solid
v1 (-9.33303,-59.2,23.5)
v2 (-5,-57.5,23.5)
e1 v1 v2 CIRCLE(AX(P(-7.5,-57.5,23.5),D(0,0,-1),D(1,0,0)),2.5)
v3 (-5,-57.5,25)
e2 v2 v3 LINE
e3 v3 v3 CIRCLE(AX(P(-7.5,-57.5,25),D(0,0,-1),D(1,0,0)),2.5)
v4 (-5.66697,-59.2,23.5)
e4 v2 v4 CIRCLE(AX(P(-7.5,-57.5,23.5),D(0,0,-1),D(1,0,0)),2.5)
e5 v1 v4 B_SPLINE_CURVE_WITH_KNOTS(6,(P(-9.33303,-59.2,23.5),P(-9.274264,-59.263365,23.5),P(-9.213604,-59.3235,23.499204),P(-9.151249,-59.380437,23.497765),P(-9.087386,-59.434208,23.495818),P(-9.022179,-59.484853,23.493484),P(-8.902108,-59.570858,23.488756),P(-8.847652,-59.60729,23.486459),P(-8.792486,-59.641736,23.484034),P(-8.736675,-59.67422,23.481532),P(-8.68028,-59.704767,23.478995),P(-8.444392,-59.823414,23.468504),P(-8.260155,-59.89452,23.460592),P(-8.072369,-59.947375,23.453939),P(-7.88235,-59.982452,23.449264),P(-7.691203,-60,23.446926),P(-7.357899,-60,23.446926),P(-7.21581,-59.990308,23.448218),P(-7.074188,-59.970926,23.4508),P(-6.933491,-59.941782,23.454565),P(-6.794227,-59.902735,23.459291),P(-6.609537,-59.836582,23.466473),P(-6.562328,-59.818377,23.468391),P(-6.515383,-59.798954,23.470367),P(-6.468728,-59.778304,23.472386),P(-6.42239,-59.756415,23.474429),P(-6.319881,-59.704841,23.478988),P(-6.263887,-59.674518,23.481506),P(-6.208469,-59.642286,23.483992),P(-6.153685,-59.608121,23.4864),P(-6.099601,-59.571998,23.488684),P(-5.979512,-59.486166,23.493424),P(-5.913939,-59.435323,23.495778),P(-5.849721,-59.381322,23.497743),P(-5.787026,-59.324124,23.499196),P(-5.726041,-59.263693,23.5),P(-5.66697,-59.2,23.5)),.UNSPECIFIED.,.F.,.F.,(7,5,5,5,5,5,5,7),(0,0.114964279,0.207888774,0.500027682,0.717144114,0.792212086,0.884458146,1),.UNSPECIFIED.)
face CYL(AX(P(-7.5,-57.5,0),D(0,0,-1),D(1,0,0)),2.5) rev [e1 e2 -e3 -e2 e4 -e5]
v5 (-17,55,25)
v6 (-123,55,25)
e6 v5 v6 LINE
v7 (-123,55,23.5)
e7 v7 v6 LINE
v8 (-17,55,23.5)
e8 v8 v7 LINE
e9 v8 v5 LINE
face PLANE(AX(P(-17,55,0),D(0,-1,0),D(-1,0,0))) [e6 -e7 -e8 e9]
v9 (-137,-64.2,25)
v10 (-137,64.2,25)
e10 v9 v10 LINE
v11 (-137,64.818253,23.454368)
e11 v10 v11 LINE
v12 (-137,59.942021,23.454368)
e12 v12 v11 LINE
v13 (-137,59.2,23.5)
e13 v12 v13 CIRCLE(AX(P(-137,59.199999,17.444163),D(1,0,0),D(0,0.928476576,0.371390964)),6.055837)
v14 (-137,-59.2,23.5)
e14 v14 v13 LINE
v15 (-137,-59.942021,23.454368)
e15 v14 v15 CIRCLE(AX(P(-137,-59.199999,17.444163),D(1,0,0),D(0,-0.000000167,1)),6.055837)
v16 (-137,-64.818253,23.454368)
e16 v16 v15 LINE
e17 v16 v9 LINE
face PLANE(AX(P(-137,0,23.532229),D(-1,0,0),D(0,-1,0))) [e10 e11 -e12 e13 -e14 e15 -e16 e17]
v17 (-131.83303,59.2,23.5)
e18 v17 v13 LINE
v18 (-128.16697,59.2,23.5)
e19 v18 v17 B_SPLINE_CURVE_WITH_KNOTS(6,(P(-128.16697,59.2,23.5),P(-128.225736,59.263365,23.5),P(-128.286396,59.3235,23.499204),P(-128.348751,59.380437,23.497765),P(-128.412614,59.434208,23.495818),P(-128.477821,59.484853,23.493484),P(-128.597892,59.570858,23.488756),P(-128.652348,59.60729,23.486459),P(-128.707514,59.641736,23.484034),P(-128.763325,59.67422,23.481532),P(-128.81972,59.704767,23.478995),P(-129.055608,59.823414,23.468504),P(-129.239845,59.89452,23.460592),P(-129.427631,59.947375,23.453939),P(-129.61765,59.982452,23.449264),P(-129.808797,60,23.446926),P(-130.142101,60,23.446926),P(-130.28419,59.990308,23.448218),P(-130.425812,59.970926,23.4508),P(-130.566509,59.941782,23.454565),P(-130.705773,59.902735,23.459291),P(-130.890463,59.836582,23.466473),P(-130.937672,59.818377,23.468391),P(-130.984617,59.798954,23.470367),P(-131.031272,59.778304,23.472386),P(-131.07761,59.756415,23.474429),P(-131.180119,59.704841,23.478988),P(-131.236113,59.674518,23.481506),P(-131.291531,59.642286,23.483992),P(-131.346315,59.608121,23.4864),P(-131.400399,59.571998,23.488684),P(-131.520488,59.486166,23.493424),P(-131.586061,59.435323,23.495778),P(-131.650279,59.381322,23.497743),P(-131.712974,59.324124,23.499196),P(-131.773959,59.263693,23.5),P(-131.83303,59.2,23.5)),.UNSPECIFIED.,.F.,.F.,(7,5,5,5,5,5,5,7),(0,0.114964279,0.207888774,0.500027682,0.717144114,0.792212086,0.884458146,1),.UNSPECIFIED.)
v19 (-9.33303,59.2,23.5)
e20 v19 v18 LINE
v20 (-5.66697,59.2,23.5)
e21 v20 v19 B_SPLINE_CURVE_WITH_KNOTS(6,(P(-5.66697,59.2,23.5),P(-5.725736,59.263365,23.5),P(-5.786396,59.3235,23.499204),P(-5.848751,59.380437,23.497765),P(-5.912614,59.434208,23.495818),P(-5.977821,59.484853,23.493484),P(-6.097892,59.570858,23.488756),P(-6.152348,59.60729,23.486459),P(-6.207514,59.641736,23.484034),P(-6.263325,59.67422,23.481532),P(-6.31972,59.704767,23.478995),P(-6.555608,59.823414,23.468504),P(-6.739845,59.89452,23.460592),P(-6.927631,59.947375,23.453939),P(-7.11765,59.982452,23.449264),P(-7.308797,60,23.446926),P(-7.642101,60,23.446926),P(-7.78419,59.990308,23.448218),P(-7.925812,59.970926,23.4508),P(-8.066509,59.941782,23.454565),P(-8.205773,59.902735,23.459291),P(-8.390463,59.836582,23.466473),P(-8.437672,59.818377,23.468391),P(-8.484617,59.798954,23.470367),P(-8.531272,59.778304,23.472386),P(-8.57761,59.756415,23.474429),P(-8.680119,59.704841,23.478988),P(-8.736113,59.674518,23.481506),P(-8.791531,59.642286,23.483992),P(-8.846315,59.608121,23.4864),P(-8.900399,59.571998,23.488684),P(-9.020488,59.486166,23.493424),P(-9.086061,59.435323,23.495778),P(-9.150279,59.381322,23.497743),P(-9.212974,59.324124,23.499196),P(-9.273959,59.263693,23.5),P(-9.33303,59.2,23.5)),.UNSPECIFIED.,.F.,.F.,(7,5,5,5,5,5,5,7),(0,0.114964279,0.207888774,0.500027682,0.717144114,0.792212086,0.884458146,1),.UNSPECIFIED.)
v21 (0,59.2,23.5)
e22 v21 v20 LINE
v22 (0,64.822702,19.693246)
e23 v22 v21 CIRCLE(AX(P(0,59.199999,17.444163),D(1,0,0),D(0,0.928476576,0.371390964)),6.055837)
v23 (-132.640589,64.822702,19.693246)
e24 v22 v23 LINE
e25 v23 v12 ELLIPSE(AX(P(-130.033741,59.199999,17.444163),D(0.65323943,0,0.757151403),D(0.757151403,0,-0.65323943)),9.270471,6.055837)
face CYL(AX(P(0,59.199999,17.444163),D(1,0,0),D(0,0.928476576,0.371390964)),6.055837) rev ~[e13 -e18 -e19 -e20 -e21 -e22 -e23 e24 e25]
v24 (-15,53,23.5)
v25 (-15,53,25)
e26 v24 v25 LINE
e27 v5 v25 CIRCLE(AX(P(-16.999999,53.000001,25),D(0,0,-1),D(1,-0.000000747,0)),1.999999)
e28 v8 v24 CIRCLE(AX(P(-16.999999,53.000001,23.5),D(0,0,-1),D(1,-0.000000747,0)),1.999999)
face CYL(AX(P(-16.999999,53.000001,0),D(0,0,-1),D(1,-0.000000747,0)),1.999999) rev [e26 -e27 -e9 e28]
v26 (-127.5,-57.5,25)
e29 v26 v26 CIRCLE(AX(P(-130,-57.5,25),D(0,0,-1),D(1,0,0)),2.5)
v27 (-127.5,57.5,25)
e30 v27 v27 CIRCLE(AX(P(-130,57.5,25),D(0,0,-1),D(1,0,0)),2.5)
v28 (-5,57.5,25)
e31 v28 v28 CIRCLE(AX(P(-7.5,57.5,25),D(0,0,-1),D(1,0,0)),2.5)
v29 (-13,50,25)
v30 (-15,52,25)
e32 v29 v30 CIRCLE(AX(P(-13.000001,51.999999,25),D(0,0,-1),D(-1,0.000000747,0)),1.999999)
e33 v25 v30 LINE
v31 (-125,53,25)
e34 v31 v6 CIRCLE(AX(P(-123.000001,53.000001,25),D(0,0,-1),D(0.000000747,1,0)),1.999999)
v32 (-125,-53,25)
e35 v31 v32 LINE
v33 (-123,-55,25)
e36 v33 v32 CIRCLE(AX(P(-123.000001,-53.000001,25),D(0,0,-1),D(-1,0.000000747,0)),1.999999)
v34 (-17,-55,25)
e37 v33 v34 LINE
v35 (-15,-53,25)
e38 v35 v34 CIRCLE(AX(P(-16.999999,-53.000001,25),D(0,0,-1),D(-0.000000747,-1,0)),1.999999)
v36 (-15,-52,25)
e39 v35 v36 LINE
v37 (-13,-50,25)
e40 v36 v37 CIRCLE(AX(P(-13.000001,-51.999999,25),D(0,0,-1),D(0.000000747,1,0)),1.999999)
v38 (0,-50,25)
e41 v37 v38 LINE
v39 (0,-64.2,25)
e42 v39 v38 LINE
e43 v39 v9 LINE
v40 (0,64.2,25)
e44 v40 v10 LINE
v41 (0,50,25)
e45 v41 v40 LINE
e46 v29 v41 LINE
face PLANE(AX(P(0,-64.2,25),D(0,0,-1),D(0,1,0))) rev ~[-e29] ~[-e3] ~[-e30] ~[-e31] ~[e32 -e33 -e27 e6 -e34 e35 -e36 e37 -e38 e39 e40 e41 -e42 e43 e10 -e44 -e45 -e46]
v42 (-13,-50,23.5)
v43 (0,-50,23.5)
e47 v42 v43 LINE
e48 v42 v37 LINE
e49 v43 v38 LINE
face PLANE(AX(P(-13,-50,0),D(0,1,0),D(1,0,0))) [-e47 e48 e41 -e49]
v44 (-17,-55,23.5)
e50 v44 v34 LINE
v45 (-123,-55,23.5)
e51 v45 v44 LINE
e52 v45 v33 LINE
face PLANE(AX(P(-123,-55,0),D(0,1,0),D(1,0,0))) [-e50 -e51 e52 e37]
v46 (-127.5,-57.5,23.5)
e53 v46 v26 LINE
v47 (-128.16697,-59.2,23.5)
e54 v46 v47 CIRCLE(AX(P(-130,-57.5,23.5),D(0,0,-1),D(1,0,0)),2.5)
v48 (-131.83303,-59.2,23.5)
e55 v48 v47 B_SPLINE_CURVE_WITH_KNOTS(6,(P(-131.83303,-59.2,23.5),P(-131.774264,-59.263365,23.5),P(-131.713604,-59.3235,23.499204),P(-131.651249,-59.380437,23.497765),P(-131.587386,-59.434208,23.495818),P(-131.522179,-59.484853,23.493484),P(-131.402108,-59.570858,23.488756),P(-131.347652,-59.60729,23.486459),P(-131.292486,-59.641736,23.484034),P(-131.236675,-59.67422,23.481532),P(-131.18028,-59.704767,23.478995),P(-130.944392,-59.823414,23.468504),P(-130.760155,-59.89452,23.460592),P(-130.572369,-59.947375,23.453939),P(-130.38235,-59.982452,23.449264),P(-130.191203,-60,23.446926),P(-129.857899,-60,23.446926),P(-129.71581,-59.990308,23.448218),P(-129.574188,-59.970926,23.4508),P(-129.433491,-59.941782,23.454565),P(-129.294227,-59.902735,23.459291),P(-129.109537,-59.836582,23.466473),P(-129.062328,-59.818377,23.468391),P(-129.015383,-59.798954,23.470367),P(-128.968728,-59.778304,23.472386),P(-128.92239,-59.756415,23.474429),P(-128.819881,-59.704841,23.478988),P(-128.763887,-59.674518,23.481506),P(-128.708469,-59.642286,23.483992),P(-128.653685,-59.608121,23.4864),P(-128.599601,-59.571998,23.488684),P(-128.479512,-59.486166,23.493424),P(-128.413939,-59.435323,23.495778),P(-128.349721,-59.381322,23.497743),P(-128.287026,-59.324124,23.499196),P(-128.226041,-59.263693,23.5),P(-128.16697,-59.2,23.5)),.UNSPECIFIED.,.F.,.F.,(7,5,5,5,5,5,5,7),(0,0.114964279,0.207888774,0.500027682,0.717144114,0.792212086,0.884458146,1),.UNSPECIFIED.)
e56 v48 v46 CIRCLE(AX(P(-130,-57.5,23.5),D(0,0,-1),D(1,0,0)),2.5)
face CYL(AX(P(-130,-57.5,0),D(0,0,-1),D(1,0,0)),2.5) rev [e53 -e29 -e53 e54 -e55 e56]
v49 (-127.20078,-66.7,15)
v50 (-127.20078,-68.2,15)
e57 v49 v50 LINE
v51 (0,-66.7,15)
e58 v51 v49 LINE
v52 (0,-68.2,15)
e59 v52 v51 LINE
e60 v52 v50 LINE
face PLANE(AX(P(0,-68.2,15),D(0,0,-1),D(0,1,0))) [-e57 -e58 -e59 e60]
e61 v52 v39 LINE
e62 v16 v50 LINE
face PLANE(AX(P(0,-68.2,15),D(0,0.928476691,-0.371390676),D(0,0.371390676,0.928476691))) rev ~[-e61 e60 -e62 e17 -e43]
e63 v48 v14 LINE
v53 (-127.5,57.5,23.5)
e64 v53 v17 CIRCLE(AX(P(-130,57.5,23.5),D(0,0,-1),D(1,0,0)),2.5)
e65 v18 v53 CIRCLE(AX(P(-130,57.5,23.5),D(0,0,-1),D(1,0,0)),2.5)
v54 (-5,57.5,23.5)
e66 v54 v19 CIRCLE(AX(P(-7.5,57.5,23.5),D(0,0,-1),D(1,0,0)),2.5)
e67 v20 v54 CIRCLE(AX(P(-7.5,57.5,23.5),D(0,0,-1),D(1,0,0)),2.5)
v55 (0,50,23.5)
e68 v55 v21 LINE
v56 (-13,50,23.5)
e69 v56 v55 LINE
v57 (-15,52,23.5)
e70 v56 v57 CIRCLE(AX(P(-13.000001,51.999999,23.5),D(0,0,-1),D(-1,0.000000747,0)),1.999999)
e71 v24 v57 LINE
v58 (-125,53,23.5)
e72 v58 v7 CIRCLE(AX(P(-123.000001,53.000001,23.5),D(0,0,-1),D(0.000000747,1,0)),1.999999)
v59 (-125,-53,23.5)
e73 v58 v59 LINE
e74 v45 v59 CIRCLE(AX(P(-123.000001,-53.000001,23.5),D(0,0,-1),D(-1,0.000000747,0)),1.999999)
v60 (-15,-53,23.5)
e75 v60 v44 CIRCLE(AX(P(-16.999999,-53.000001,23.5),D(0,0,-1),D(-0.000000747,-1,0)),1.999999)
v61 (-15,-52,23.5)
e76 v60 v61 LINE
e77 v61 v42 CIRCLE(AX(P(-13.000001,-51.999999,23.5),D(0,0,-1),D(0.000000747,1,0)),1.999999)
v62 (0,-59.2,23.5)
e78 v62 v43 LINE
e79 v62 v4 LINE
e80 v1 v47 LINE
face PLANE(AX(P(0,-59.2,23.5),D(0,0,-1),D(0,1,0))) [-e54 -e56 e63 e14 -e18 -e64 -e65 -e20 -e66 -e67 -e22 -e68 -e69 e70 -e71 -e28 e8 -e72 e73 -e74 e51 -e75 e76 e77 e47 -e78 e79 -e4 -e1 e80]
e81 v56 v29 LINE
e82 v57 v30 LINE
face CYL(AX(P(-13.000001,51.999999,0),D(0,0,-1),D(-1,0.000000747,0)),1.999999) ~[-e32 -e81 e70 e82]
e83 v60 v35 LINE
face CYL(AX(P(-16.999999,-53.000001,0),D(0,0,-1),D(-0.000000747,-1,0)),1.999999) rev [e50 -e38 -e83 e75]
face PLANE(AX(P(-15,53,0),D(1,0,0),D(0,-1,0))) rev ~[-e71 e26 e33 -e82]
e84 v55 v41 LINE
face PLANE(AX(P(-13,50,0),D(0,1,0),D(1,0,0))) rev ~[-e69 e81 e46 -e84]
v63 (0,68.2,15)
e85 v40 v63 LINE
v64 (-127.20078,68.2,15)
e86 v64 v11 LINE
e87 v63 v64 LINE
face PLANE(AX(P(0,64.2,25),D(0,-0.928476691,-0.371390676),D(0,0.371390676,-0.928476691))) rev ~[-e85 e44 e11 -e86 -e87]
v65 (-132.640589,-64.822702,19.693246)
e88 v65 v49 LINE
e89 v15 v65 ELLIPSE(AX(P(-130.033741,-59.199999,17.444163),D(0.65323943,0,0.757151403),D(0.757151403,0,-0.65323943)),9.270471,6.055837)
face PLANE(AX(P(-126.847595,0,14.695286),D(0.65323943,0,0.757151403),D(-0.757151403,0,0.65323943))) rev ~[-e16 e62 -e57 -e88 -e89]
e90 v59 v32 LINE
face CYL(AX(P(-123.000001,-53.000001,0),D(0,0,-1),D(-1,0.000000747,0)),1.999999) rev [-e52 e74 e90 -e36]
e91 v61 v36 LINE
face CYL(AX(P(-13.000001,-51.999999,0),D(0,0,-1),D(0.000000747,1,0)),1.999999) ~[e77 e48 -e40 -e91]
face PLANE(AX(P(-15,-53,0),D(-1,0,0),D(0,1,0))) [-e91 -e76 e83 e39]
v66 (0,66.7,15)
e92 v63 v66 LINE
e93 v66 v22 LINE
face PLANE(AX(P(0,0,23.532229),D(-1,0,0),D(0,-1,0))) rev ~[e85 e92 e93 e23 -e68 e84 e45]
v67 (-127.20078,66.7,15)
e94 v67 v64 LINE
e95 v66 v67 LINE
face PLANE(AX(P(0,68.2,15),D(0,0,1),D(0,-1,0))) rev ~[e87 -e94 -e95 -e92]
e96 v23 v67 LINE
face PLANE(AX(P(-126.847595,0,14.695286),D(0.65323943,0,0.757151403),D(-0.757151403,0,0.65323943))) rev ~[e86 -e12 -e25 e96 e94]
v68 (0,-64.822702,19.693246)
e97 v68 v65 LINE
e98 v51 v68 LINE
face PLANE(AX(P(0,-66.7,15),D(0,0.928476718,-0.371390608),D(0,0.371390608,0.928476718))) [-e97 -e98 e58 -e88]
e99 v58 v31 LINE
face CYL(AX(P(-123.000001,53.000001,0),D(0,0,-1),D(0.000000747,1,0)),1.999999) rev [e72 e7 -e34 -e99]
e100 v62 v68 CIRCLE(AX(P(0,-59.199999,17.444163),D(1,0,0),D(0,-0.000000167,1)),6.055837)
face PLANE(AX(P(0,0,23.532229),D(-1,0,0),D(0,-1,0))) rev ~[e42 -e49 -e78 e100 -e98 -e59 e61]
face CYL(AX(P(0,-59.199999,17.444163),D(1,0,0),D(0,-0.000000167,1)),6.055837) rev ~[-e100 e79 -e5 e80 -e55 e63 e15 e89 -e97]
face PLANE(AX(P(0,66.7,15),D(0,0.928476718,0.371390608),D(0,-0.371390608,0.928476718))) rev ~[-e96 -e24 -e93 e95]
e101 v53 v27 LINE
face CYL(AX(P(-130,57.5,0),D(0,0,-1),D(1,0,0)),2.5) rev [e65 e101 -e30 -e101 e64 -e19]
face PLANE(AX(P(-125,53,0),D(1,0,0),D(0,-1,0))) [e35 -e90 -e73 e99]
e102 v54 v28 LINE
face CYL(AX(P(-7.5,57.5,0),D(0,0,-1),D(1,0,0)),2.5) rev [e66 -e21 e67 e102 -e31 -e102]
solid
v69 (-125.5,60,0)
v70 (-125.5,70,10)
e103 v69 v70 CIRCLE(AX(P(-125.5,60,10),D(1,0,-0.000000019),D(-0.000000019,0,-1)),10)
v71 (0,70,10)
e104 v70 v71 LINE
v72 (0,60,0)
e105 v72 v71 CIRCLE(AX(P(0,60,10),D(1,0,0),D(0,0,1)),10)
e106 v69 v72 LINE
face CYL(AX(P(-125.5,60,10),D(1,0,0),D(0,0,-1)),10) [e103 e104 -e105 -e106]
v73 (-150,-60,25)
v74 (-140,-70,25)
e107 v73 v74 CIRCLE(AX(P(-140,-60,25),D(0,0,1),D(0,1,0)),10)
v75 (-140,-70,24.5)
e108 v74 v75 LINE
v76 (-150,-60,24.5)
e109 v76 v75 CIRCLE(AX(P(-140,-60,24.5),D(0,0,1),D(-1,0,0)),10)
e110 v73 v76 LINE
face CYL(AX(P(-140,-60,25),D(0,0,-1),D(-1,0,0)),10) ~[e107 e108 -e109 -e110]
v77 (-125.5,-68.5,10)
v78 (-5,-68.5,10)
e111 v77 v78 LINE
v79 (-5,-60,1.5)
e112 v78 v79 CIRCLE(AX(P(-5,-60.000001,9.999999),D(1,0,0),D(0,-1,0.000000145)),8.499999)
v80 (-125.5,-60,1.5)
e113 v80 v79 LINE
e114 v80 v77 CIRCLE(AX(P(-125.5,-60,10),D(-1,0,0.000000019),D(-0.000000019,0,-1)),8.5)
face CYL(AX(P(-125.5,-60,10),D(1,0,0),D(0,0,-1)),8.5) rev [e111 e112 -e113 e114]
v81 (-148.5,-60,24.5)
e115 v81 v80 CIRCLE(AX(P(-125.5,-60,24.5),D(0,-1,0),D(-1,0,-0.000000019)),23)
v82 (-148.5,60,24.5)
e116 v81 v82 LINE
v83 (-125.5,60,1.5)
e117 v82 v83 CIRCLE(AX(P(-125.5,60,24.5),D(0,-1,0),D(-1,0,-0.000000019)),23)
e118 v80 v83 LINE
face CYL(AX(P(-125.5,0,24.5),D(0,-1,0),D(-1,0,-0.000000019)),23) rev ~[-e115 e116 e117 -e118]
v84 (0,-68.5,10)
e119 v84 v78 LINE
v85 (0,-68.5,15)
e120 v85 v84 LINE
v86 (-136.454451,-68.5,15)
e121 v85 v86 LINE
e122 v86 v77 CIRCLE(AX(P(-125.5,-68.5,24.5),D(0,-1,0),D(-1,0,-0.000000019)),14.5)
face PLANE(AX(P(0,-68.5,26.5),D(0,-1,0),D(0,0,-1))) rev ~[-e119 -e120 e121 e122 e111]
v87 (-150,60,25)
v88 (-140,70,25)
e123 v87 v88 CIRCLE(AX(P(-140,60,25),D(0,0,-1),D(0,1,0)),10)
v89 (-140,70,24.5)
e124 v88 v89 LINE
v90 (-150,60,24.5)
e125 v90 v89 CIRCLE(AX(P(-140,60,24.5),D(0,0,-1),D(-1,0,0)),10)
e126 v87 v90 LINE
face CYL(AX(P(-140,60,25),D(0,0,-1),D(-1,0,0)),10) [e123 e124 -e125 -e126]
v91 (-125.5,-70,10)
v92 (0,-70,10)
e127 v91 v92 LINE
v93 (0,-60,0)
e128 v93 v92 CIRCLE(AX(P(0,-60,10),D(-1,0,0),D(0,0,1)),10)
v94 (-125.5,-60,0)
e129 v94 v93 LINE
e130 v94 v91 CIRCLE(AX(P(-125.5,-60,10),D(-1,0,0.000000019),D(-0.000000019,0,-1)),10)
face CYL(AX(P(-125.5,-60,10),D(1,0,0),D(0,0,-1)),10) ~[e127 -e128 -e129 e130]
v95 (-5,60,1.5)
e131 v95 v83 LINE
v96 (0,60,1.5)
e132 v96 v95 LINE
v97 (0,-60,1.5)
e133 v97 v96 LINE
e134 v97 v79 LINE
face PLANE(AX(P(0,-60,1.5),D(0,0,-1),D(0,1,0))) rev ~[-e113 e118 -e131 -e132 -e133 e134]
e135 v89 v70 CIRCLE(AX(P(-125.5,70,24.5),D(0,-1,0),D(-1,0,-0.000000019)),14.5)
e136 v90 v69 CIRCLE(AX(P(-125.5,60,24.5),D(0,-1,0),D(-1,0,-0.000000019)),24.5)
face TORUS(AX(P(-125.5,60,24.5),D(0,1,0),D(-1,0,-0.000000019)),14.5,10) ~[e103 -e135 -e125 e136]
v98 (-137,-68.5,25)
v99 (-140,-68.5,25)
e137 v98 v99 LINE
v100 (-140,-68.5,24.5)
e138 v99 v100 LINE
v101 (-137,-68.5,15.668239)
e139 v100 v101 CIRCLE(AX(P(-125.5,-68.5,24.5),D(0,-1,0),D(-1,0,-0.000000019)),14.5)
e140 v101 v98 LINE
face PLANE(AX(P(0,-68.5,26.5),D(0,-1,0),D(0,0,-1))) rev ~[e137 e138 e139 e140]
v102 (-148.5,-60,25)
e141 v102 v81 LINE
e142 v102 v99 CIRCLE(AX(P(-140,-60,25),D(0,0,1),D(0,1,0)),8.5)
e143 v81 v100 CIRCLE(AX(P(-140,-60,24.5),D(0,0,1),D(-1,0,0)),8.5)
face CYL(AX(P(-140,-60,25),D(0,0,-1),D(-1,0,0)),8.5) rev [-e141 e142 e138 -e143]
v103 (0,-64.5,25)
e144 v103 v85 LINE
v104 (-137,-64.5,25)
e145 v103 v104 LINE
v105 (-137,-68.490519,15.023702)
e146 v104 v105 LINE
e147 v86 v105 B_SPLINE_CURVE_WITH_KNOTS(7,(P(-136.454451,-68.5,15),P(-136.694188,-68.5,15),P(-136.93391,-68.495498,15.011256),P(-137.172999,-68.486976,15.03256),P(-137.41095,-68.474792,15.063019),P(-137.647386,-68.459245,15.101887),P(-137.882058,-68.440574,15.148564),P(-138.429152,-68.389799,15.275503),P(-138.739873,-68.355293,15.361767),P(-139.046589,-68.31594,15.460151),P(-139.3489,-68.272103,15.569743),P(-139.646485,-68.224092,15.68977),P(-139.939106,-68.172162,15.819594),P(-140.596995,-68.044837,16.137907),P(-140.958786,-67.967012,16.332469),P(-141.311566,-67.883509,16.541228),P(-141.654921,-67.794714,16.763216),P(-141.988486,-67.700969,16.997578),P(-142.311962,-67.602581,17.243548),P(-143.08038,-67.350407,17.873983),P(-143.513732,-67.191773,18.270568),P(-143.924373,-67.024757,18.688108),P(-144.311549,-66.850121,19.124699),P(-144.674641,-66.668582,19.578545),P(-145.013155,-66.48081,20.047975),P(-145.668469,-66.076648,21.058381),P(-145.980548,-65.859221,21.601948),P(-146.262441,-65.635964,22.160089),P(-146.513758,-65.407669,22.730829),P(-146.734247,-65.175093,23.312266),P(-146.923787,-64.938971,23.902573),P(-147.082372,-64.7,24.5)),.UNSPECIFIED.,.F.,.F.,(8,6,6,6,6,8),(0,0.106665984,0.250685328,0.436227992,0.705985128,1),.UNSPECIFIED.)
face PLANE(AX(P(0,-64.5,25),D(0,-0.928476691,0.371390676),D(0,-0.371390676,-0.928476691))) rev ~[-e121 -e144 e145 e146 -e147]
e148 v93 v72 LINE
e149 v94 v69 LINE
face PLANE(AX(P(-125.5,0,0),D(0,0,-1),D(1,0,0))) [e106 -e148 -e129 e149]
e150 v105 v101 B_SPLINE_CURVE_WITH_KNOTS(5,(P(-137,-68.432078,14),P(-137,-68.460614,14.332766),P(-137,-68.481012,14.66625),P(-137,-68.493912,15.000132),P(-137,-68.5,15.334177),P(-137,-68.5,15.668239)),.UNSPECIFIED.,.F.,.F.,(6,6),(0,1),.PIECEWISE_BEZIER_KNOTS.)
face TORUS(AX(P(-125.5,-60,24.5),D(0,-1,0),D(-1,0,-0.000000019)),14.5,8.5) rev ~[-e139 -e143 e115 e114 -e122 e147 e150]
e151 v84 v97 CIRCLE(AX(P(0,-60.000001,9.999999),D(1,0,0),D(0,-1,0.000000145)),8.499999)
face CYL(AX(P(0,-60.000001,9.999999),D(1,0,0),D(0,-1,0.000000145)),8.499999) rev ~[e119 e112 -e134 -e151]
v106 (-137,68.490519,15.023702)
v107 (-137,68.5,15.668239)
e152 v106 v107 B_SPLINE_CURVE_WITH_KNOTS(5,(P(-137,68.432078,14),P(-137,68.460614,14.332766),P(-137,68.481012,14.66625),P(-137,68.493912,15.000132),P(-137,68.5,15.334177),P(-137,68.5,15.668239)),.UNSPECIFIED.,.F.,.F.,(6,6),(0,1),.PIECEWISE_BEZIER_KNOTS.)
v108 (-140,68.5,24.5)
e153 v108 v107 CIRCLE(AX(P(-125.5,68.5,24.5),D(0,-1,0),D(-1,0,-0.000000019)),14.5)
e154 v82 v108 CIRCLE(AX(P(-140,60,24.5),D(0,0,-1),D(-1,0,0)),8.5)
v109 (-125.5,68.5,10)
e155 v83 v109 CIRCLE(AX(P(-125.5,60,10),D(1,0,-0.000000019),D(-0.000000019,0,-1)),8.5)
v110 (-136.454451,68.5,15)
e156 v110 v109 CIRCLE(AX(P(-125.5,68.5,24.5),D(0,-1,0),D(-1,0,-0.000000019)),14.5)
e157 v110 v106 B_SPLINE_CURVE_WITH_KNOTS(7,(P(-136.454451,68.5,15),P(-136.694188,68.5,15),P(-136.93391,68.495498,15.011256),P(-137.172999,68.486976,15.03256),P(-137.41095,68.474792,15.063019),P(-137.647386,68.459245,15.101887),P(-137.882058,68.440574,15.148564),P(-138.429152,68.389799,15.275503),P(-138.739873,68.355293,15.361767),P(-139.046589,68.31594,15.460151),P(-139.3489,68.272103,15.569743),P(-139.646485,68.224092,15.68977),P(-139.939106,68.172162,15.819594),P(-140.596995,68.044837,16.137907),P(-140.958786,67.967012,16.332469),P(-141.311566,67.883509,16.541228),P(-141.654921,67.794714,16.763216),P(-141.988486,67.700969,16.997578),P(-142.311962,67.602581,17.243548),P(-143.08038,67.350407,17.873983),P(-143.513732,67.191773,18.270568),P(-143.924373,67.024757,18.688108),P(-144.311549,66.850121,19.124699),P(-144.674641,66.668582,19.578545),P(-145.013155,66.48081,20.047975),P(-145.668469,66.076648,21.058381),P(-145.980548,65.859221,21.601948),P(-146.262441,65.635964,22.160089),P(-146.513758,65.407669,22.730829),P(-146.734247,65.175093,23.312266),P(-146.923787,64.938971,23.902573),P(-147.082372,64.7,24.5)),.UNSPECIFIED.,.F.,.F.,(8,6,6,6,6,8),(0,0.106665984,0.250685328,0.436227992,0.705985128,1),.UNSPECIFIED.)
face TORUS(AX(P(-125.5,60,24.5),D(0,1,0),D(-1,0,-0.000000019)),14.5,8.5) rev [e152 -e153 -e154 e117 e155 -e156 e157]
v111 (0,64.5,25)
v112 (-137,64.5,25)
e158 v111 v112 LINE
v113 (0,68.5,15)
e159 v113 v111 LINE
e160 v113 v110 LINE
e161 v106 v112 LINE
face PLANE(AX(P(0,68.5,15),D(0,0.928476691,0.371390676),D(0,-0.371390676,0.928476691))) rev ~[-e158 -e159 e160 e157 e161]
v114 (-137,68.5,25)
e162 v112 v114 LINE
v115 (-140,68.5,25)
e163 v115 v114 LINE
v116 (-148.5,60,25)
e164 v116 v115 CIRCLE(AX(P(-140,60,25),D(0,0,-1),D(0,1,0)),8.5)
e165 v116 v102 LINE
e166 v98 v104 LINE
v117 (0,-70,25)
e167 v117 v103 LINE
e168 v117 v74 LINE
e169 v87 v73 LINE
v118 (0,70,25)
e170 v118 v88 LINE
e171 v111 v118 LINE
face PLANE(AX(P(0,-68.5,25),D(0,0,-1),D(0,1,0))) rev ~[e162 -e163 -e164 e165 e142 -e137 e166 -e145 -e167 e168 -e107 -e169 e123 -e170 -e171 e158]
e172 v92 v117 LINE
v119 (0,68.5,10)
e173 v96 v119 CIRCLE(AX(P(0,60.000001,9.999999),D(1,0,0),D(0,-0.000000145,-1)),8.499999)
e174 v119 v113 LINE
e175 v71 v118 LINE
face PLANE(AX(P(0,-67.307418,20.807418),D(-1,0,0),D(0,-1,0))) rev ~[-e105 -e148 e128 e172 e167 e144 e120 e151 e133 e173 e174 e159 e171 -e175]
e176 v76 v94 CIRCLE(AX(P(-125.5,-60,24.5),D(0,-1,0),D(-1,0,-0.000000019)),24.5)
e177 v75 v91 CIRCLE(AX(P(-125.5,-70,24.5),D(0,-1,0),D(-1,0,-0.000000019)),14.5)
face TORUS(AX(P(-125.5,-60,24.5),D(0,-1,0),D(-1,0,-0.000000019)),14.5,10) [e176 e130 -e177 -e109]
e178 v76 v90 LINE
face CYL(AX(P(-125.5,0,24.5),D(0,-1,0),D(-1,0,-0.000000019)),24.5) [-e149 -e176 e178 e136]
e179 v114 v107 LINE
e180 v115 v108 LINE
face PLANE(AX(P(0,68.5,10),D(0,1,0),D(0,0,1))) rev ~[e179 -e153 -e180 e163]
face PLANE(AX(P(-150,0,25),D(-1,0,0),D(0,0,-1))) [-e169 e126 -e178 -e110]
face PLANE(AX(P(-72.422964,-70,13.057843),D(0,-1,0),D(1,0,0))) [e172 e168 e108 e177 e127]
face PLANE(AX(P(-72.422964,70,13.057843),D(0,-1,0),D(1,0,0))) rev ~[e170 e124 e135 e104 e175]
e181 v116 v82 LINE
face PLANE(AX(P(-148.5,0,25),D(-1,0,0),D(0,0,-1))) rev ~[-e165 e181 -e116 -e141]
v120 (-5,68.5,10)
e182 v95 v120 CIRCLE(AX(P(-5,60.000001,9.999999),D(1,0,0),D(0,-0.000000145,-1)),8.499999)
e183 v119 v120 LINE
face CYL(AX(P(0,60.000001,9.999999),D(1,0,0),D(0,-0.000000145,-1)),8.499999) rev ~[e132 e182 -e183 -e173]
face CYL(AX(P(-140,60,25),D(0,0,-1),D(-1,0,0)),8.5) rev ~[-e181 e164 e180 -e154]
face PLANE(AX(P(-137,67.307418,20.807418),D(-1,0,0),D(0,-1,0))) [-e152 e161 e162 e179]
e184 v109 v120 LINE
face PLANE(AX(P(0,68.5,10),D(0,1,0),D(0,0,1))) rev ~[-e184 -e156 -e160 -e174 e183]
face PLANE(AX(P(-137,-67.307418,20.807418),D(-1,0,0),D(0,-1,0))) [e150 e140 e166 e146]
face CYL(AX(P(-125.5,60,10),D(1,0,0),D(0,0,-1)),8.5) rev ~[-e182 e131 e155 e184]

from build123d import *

# Parameters (mm, degrees)
PAD_DEPTH       = 70
FILLET_R        = 10
THICKNESS_T     = -1.5
SKETCH001_W     = 120
SKETCH001_H     = 25
POCKET_DEPTH    = 5
POCKET001_DEPTH = 5
PAD001_DEPTH    = 137
PAD002_DEPTH    = 137
POCKET002_DEPTH = 31
SKETCH007_R     = 2.5
POCKET003_DEPTH = 30
POCKET004_DEPTH = 100


with BuildPart() as body:
    # Sketch (on XZ_Plane of Origin) → Pad (new body, symmetric)
    with BuildSketch(Plane.XZ):
        with BuildLine():
            Line((0, 0), (0, 25))
            Line((0, 25), (-150, 25))
            Line((-150, 25), (-150, 24.5))
            ThreePointArc((-150, 24.5), (-142.824116, 7.175884), (-125.5, 0))
            Line((-125.5, 0), (0, 0))
        make_face()
    extrude(amount=PAD_DEPTH, both=True)

    # Fillet
    fillet_edges = [body.edges().sort_by_distance(p)[0] for p in [
        (-62.75, -70, 0),
        (-62.75, 70, 0),
    ]]
    fillet(fillet_edges, radius=FILLET_R)

    # Thickness
    thickness_openings = [body.faces().sort_by_distance(p)[0] for p in [
        (-74.850974, 0, 25),
    ]]
    offset(amount=THICKNESS_T, openings=thickness_openings)

    # Sketch001 → Pocket (cut)
    with BuildSketch(Plane.YZ):
        with Locations((0, 14)):
            Rectangle(SKETCH001_W, SKETCH001_H)
    extrude(amount=-POCKET_DEPTH, mode=Mode.SUBTRACT)

    # Sketch002 (on YZ_Plane of Origin) → Pocket001 (cut)
    with BuildSketch(Plane.YZ):
        with BuildLine():
            Line((-68.5, 26.5), (-68.5, 10))
            ThreePointArc((-68.5, 10), (-66.010408, 3.989592), (-60, 1.5))
            Line((-60, 1.5), (60, 1.5))
            ThreePointArc((60, 1.5), (66.010408, 3.989592), (68.5, 10))
            Line((68.5, 10), (68.5, 26.5))
            Line((68.5, 26.5), (-68.5, 26.5))
        make_face()
    extrude(amount=-POCKET001_DEPTH, mode=Mode.SUBTRACT)

    # Sketch004 → Pad001 (join)
    with BuildSketch(Plane.YZ):
        Polygon((-68.5, 25), (-64.5, 25), (-68.5, 15), align=None)
        Polygon((64.5, 25), (68.5, 25), (68.5, 15), align=None)
    extrude(amount=-PAD001_DEPTH)


with BuildPart() as mount:
    # Sketch005 (on YZ_Plane001 of Origin002) → Pad002 (new body)
    with BuildSketch(Plane.YZ):
        with BuildLine():
            Line((-68.2, 15), (-64.2, 25))
            Line((-64.2, 25), (-54.2, 25))
            Line((-54.2, 25), (54.2, 25))
            Line((54.2, 25), (64.2, 25))
            Line((64.2, 25), (68.2, 15))
            Line((68.2, 15), (66.7, 15))
            Line((66.7, 15), (64.822702, 19.693246))
            ThreePointArc((64.822702, 19.693246), (62.595076, 22.458803), (59.2, 23.5))
            Line((59.2, 23.5), (54.2, 23.5))
            Line((-54.2, 23.5), (54.2, 23.5))
            Line((-54.2, 23.5), (-59.2, 23.5))
            ThreePointArc((-59.2, 23.5), (-62.595076, 22.458803), (-64.822702, 19.693246))
            Line((-66.7, 15), (-64.822702, 19.693246))
            Line((-68.2, 15), (-66.7, 15))
        make_face()
    extrude(amount=-PAD002_DEPTH)

    # Sketch006 (on XY_Plane001 of Origin002) → Pocket002 (cut)
    with BuildSketch(Plane.XY):
        with BuildLine():
            Line((-17, 55), (-123, 55))
            ThreePointArc((-123, 55), (-124.414214, 54.414214), (-125, 53))
            Line((-125, 53), (-125, -53))
            ThreePointArc((-125, -53), (-124.414214, -54.414214), (-123, -55))
            Line((-123, -55), (-17, -55))
            ThreePointArc((-17, -55), (-15.585786, -54.414214), (-15, -53))
            Line((-15, -53), (-15, -52))
            ThreePointArc((-13, -50), (-14.414214, -50.585786), (-15, -52))
            Line((-13, -50), (0, -50))
            Line((0, -50), (0, 50))
            Line((-13, 50), (0, 50))
            ThreePointArc((-15, 52), (-14.414214, 50.585786), (-13, 50))
            Line((-15, 53), (-15, 52))
            ThreePointArc((-15, 53), (-15.585786, 54.414214), (-17, 55))
        make_face()
    extrude(amount=POCKET002_DEPTH, mode=Mode.SUBTRACT)

    # Sketch007 (on XY_Plane001 of Origin002) → Pocket003 (cut)
    with BuildSketch(Plane.XY):
        with Locations((-7.5, 57.5)):
            Circle(SKETCH007_R)
        with Locations((-130, 57.5)):
            Circle(SKETCH007_R)
        with Locations((-7.5, -57.5)):
            Circle(SKETCH007_R)
        with Locations((-130, -57.5)):
            Circle(SKETCH007_R)
    extrude(amount=POCKET003_DEPTH, mode=Mode.SUBTRACT)

    # Sketch008 (on XZ_Plane001 of Origin002) → Pocket004 (cut, symmetric)
    with BuildSketch(Plane.XZ):
        Polygon((-137.213166, 23.638279), (-139.775239, 10.189935), (-126.847595, 14.695286), align=None)
    extrude(amount=POCKET004_DEPTH, both=True, mode=Mode.SUBTRACT)


solid = Compound([body.part, mount.part])
